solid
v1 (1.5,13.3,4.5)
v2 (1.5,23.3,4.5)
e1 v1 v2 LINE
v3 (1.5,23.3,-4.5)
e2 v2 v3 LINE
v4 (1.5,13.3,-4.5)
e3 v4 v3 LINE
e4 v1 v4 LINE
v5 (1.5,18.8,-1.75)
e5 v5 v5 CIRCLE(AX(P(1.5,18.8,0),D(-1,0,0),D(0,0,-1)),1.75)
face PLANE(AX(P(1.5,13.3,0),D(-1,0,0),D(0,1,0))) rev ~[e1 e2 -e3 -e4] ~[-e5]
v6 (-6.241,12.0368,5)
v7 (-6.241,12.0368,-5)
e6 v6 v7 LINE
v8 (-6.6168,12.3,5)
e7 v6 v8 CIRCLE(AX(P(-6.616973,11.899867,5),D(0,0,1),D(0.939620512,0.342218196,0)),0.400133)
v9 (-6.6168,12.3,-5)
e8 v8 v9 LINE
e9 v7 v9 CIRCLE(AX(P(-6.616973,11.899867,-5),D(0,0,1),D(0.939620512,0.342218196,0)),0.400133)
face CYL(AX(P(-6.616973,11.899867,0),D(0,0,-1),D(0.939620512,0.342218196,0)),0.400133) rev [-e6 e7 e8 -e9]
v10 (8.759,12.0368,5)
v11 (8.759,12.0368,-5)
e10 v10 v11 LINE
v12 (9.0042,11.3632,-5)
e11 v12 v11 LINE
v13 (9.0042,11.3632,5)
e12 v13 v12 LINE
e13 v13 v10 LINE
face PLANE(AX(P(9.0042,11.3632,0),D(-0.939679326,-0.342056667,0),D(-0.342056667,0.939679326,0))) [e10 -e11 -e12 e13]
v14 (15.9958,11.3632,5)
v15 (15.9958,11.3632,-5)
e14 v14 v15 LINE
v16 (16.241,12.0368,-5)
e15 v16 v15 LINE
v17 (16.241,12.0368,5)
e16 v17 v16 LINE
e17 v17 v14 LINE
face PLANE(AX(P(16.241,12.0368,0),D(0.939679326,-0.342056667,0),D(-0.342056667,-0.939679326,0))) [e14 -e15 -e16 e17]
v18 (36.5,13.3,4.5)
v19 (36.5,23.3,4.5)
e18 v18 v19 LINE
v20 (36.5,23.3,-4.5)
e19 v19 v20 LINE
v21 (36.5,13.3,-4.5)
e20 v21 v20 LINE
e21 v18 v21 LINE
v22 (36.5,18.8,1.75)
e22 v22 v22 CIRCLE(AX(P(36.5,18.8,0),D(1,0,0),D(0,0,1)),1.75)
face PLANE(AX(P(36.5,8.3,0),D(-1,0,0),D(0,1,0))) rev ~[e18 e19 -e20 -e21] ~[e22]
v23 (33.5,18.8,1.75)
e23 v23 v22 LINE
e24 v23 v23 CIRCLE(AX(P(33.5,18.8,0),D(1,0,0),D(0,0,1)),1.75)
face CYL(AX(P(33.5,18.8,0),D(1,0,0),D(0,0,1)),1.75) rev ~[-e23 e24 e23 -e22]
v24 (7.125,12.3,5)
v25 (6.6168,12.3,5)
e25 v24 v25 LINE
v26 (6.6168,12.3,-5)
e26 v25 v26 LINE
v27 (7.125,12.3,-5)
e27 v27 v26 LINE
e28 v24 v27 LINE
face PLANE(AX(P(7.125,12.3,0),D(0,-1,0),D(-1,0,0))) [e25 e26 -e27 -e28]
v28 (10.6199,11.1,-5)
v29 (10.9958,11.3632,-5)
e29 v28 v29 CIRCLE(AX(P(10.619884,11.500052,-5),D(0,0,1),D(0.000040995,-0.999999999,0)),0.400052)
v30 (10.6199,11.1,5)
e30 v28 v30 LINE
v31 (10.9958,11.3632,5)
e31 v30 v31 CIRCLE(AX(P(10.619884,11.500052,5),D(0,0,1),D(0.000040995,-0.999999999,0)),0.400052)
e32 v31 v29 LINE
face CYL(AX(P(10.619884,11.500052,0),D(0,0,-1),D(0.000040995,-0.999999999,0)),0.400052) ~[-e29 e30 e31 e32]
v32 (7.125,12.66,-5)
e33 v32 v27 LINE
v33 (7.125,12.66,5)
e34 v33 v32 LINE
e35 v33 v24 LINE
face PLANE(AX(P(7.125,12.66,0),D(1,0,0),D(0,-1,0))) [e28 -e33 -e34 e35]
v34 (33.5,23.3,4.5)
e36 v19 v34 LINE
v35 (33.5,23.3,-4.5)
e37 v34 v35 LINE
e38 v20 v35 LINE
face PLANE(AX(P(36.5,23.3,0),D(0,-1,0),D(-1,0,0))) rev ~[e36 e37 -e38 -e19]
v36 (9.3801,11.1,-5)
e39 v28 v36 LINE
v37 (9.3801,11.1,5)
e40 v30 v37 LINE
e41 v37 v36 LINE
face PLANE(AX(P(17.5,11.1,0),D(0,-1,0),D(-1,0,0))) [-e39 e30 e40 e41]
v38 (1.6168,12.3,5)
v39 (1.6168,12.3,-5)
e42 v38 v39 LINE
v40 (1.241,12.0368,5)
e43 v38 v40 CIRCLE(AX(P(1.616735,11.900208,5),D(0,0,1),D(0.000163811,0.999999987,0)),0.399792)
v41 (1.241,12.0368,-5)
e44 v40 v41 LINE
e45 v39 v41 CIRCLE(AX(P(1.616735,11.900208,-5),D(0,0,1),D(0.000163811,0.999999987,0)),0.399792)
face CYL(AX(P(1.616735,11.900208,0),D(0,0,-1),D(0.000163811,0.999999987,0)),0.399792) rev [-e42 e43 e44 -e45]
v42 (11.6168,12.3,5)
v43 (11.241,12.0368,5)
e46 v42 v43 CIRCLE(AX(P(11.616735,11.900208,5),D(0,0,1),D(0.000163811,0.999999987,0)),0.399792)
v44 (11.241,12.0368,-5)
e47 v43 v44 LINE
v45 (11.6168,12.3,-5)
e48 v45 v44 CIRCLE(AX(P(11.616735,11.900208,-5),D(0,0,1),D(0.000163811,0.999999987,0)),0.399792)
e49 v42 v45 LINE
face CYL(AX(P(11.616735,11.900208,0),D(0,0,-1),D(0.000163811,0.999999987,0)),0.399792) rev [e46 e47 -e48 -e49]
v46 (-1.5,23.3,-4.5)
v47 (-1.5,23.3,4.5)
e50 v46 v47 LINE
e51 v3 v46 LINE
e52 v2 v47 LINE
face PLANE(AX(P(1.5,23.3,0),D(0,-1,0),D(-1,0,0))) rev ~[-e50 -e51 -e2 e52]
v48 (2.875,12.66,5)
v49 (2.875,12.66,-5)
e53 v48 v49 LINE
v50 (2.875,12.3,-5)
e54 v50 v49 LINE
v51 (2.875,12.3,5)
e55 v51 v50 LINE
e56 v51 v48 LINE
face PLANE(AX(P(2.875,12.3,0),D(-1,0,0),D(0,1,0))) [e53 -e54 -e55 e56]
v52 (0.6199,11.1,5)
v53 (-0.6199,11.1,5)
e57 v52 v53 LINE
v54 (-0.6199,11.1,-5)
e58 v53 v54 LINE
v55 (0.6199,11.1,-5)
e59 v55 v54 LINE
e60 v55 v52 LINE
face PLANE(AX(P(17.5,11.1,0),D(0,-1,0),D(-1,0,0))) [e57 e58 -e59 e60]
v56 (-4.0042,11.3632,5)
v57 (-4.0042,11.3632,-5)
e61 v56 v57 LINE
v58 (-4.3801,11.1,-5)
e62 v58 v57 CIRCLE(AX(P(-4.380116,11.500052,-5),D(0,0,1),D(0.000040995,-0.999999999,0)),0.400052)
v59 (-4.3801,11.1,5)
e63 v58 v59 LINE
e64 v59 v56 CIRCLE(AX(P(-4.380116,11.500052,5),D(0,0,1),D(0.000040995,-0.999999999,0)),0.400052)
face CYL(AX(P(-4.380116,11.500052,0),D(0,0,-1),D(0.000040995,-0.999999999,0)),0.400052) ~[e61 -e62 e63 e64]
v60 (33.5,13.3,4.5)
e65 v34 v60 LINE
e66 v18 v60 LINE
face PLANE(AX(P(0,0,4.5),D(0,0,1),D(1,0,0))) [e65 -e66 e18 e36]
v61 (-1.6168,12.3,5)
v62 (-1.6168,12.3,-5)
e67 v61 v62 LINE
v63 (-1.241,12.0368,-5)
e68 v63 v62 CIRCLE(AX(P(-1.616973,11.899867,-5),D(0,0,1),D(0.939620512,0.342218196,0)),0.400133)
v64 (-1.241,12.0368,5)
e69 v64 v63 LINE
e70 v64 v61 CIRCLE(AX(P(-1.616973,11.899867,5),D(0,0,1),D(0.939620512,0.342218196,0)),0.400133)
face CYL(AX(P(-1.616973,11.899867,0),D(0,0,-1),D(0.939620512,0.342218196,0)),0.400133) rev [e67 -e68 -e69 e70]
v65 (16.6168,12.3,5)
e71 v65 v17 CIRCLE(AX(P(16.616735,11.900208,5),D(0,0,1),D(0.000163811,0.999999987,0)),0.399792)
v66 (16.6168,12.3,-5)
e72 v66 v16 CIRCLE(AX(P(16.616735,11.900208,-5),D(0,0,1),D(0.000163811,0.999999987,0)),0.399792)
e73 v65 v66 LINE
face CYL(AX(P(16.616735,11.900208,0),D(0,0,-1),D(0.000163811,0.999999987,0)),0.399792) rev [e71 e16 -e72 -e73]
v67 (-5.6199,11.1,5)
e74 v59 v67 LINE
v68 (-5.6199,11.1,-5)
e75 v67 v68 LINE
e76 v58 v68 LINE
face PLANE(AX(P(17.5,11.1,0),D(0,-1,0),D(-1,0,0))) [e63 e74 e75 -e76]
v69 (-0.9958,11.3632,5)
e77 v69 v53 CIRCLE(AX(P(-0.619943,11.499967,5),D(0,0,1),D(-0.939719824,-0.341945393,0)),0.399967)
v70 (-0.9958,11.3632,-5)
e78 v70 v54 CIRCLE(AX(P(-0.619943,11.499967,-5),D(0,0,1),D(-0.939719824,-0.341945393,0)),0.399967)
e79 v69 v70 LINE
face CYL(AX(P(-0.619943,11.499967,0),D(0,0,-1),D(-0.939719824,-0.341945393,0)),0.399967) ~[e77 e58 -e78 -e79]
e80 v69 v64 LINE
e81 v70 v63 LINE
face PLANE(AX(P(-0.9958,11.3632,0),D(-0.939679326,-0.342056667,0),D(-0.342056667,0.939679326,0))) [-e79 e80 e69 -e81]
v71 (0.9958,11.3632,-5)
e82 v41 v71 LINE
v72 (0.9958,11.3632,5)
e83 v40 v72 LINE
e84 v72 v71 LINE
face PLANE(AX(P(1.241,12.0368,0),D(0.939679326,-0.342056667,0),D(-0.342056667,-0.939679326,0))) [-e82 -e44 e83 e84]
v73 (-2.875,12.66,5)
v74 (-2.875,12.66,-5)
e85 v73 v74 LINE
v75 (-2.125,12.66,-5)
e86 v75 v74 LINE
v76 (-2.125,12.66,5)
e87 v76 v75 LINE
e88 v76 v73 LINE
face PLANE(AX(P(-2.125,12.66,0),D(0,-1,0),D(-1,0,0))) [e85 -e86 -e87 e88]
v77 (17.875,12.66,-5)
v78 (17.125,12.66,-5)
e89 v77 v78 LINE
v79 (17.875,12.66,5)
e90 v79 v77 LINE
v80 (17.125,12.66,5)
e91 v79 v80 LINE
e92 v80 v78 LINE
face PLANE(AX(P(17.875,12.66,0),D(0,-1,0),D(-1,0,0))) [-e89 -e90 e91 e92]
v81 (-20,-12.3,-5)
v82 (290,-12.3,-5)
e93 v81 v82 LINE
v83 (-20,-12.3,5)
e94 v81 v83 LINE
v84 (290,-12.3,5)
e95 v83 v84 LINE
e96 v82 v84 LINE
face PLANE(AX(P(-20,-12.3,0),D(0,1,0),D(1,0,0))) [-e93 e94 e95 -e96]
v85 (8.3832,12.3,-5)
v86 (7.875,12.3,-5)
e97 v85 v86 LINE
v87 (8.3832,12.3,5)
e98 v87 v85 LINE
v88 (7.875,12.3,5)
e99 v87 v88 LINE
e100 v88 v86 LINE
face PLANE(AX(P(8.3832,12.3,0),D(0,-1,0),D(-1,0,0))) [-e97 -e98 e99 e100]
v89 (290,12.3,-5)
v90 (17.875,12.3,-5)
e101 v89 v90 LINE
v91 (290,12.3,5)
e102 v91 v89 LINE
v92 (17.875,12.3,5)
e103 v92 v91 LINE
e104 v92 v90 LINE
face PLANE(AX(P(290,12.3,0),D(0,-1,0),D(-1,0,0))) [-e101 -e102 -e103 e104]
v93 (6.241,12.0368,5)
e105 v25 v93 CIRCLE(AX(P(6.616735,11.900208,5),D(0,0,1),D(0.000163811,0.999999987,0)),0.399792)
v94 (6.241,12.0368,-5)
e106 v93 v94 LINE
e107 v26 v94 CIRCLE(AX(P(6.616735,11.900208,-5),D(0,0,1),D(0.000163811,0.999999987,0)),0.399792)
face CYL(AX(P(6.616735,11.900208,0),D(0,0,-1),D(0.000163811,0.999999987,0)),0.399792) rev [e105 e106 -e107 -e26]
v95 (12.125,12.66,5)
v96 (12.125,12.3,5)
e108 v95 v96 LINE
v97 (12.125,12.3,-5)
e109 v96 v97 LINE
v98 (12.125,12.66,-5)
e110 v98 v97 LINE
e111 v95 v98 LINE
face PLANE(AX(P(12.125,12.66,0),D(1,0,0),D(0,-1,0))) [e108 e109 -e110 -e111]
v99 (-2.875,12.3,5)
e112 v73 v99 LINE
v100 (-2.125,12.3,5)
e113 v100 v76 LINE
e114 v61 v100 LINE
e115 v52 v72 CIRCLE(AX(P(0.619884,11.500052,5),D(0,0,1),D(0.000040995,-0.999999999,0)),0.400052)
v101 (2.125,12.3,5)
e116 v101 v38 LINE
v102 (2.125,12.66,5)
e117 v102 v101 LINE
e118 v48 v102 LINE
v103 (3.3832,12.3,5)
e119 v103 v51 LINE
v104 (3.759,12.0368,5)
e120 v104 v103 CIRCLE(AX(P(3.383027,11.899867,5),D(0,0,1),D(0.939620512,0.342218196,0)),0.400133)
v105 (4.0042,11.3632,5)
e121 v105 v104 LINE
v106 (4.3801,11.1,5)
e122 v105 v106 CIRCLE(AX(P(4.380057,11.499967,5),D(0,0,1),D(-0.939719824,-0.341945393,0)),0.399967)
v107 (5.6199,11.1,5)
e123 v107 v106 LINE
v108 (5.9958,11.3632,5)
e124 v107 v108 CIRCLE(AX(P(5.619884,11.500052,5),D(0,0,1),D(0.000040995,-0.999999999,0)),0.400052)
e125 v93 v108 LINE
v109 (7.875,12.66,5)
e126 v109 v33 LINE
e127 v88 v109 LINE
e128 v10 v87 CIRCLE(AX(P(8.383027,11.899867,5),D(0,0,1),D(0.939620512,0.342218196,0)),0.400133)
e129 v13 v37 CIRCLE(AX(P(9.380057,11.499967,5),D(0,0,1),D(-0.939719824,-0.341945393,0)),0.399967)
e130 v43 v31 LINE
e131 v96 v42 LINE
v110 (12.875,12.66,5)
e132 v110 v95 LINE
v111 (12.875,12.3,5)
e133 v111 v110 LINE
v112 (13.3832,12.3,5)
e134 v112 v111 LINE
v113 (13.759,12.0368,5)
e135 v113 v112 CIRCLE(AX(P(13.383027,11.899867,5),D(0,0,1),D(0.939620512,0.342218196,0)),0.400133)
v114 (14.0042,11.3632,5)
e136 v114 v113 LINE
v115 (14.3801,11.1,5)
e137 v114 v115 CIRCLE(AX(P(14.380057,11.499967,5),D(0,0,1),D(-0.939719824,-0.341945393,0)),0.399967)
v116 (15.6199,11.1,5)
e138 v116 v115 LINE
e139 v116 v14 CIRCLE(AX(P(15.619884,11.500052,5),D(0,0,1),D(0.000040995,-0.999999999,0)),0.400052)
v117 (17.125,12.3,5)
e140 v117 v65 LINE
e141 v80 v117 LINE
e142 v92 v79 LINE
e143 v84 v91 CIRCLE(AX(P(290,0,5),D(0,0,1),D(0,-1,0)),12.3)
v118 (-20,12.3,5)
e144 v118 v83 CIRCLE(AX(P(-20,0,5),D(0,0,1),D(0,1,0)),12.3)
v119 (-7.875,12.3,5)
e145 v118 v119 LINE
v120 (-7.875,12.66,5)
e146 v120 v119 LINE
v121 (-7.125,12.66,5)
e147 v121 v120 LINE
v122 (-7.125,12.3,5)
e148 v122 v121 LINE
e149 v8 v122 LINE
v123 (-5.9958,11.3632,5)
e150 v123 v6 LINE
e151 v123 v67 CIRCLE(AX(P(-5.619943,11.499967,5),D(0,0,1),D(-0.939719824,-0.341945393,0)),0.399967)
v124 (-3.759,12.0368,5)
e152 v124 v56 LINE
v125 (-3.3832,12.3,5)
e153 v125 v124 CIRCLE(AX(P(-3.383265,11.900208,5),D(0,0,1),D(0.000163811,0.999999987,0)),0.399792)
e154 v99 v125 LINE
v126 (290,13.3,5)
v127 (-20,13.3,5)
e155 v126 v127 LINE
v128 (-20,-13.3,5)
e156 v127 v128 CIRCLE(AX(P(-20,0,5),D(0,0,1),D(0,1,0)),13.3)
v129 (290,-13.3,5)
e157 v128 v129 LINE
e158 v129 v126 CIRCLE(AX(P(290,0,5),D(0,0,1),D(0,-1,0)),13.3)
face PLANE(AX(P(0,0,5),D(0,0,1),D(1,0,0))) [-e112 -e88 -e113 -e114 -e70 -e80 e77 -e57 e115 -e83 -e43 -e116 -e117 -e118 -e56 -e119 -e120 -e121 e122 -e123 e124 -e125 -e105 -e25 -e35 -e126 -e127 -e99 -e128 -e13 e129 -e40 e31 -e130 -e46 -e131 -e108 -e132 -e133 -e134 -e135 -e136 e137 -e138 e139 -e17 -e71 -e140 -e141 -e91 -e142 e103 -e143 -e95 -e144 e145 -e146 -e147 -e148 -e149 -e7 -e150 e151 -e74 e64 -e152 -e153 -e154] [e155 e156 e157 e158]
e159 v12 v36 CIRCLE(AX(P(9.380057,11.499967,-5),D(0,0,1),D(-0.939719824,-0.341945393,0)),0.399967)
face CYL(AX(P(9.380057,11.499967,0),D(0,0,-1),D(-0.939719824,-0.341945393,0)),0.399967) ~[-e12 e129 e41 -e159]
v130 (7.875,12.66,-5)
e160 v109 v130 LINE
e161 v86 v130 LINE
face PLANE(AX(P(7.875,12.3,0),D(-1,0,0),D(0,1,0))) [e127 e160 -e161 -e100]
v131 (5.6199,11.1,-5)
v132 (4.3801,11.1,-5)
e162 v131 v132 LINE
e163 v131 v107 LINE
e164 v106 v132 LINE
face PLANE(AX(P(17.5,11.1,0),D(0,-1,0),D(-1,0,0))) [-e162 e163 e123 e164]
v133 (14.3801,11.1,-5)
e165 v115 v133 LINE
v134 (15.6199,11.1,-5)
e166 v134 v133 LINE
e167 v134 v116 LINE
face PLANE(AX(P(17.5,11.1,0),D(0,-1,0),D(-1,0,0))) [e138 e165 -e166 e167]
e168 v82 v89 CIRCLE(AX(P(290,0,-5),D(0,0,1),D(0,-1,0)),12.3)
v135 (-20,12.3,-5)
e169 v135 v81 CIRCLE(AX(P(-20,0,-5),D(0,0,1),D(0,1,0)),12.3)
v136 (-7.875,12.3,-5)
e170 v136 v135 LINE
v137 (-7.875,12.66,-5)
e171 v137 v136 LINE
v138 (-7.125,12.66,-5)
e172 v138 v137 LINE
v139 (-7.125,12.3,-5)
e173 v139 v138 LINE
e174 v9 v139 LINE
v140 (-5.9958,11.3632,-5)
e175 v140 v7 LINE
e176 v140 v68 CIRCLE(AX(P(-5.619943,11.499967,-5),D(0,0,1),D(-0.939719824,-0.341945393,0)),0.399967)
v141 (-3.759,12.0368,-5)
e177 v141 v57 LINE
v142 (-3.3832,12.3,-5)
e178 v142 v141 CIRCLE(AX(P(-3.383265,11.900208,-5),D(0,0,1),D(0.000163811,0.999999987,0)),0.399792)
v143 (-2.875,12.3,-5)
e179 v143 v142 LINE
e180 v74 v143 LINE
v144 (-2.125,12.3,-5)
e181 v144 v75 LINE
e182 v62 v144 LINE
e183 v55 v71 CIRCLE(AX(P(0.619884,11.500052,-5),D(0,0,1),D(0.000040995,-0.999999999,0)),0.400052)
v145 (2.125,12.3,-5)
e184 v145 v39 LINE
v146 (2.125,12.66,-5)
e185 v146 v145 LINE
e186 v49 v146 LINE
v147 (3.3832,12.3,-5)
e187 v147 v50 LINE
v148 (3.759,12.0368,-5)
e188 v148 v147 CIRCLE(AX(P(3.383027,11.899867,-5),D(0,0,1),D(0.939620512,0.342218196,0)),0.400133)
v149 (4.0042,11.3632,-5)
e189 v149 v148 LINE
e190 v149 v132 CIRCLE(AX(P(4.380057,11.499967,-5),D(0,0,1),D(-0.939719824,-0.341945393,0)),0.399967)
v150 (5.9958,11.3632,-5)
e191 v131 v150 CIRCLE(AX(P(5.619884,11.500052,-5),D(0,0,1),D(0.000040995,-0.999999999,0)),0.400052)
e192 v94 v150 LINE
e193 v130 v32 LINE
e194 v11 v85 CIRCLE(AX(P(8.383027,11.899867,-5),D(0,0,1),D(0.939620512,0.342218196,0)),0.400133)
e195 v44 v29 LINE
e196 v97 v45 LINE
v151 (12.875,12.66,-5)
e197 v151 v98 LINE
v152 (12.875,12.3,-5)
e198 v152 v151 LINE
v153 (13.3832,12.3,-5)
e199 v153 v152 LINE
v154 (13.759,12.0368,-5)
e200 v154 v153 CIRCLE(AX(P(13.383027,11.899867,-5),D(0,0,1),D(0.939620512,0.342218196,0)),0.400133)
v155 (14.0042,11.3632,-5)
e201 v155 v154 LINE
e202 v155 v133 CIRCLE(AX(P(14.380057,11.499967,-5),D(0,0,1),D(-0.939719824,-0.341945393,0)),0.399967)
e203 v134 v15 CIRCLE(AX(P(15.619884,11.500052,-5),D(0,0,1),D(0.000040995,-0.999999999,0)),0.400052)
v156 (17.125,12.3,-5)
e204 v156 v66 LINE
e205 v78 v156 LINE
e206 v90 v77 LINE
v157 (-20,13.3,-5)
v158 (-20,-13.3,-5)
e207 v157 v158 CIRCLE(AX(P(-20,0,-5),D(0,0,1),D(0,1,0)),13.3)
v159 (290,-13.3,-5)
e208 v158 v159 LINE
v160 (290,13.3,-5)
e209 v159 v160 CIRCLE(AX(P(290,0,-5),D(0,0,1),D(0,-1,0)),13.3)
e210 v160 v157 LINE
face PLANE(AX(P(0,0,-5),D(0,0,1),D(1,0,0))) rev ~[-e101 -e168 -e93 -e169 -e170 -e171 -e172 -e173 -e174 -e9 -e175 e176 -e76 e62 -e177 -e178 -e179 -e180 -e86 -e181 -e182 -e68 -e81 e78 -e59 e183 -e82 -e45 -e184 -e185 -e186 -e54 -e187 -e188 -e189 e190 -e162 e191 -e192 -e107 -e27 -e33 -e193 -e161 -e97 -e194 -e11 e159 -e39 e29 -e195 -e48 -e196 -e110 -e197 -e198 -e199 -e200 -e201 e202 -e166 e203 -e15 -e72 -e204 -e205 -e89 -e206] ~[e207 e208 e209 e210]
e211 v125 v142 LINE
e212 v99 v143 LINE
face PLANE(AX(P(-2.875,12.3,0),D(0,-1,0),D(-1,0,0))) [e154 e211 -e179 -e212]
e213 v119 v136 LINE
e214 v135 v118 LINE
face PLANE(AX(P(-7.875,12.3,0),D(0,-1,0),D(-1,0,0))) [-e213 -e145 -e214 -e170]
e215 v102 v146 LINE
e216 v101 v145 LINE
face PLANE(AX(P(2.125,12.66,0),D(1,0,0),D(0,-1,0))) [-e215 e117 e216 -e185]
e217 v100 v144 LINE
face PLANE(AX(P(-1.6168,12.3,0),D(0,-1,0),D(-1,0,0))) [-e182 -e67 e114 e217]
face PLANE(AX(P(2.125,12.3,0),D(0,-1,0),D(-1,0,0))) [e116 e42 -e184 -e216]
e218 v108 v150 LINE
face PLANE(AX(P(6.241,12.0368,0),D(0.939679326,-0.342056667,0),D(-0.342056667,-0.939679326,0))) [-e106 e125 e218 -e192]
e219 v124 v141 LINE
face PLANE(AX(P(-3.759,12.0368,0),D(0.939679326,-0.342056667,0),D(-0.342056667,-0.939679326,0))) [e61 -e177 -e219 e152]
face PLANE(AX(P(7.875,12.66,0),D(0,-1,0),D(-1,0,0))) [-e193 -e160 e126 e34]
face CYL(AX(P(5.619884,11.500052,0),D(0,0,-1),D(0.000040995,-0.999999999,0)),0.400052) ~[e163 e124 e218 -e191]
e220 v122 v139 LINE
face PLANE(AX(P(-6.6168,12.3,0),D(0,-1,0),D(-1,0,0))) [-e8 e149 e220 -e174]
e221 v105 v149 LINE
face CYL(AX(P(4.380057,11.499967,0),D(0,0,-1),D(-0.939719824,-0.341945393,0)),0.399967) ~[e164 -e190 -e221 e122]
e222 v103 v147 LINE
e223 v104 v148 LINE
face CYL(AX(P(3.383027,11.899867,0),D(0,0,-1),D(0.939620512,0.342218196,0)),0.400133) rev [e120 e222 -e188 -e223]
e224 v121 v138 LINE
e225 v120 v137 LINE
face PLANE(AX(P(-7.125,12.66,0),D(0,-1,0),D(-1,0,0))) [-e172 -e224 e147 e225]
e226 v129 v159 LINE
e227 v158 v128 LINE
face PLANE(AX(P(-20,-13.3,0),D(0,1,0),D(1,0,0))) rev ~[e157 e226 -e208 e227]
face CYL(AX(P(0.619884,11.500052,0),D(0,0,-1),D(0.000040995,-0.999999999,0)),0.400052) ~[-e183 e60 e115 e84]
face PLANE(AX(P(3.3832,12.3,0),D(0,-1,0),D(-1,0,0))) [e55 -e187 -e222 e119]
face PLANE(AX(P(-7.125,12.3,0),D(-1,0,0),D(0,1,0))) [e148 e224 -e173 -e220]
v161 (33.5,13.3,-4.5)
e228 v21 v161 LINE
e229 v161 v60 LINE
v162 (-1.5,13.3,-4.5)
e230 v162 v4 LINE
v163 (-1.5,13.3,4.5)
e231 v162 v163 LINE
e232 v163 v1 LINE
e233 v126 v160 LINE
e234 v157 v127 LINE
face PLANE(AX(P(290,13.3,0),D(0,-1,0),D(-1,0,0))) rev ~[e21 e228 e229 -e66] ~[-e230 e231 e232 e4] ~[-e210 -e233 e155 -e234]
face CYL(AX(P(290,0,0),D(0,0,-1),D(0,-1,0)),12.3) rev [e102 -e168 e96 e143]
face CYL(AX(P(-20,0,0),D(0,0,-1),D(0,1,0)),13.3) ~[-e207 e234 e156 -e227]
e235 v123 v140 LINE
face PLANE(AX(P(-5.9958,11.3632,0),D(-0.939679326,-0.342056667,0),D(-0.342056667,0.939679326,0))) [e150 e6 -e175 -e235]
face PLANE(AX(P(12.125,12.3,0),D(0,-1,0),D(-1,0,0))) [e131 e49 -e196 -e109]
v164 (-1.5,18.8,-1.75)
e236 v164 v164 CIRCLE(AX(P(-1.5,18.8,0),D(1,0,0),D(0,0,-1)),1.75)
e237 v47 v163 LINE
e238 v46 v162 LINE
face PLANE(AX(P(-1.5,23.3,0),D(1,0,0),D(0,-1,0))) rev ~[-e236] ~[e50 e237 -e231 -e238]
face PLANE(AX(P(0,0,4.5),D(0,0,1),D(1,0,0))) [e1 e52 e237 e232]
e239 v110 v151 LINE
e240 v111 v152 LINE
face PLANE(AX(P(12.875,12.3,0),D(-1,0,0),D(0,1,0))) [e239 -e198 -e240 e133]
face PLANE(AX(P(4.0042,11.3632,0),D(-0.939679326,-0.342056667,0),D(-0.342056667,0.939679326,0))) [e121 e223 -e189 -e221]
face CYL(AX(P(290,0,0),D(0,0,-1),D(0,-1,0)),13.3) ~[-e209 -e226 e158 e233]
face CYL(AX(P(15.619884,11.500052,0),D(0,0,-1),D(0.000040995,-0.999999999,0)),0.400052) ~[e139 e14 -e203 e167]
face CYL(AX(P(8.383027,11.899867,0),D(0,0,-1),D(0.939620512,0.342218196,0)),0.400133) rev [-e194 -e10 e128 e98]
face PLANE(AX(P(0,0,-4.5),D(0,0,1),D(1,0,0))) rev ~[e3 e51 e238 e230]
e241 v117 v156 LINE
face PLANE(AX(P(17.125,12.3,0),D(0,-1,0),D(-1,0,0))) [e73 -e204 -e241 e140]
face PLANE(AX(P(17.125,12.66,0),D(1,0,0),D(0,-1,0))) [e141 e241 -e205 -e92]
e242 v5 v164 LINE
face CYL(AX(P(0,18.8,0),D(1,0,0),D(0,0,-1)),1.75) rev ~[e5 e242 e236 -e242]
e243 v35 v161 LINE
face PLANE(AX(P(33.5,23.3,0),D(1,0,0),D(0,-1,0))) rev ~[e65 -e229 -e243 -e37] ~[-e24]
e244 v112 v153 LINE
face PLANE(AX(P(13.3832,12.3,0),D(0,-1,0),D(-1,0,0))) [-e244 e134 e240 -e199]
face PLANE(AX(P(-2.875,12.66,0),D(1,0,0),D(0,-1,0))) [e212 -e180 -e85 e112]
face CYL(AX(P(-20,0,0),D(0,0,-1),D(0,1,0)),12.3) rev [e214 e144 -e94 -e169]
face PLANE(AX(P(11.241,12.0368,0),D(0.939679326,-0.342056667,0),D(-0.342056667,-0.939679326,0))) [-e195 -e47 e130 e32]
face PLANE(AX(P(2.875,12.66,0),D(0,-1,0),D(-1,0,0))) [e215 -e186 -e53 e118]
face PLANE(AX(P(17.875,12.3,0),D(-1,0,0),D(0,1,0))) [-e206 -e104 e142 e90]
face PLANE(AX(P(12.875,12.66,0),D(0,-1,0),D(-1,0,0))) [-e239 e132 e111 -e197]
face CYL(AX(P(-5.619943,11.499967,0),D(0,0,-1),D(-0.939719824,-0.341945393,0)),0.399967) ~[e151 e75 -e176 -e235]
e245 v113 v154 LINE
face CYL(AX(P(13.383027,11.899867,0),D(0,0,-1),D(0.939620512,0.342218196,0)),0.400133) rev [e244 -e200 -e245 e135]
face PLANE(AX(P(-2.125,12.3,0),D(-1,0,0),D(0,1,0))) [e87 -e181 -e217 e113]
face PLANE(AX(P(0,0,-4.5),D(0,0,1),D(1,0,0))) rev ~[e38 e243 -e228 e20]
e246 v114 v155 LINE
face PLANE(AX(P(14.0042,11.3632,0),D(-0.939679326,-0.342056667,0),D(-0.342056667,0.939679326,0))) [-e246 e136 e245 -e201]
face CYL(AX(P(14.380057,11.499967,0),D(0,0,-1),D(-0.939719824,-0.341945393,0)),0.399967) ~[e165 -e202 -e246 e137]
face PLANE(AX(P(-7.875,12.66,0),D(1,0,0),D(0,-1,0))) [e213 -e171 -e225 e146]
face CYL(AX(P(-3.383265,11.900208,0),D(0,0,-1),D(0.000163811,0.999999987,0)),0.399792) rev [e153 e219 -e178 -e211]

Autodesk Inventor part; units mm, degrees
ref_plane "YZ Plane" through (0, 0, 0) normal (1, 0, 0) x (0, 1, 0)
ref_plane "XZ Plane" through (0, 0, 0) normal (0, 1, 0) x (-1, 0, 0)
ref_plane "XY Plane" through (0, 0, 0) normal (0, 0, 1) x (1, 0, 0)
sketch "Sketch_2" plane through (0, 0, 0) normal (0, 0, 1) x (1, 0, 0)
  arc A0 (-20, 13.3) -> (-20, -13.3) centre (-20, 0) ccw
  line L0 (-20, -13.3) -> (290, -13.3)
  arc A1 (290, -13.3) -> (290, 13.3) centre (290, 0) ccw
  line L1 (290, 13.3) -> (-20, 13.3)
extrude "Extrusion1" add sketch "Sketch_2" along normal mid plane 10
sketch "Sketch_8" plane through (0, 0, 0) normal (0, 0, 1) x (1, 0, 0)
  line L0 (-1.5, 23.3) -> (-1.5, 13.3)
  line L1 (-1.5, 13.3) -> (1.5, 13.3)
  line L2 (1.5, 13.3) -> (1.5, 23.3)
  line L3 (1.5, 23.3) -> (-1.5, 23.3)
extrude "Extrusion2" add sketch "Sketch_8" along normal mid plane 9
sketch "_____3" plane through (0, 0, 0) normal (1, 0, 0) x (0, 0, -1)
  circle A0 centre (0, 18.8) radius 1.75
extrude "Extrusion3" cut sketch "_____3" along normal mid plane 6
sketch "_____2" plane through (0, 0, 0) normal (0, 0, 1) x (1, 0, 0)
  line L0 (33.5, 8.3) -> (36.5, 8.3)
  line L1 (36.5, 8.3) -> (36.5, 23.3)
  line L2 (36.5, 23.3) -> (33.5, 23.3)
  line L3 (33.5, 23.3) -> (33.5, 8.3)
extrude "Extrusion4" add sketch "_____2" along normal mid plane 9
sketch "Sketch5" plane through (33.5, 13.3, 4.5) normal (-1, 0, 0) x (0, 0, 1)
  point P0 (-4.5, 5.5)
hole "Hole1" at (33.5, 18.8, 0) direction (1, 0, 0) diameter 3.5 depth 3
sketch "Sketch_4" plane through (0, 0, 0) normal (0, 0, 1) x (1, 0, 0)
  arc A0 (-20, 12.3) -> (-20, -12.3) centre (-20, 0) ccw
  line L0 (-20, -12.3) -> (290, -12.3)
  arc A1 (290, -12.3) -> (290, 12.3) centre (290, 0) ccw
  line L1 (290, 12.3) -> (17.5, 12.3)
  line L2 (17.5, 12.3) -> (17.5, 11.1)
  line L3 (17.5, 11.1) -> (-7.5, 11.1)
  line L4 (-7.5, 11.1) -> (-7.5, 12.3)
  line L5 (-7.5, 12.3) -> (-20, 12.3)
extrude "Extrusion5" cut sketch "Sketch_4" along normal mid plane 10
sketch "Sketch_64" plane through (0, 0, 0) normal (0, 0, 1) x (1, 0, 0)
  line L0 (-9.3801, 11.1) -> (-9.3801, 10.1)
  line L1 (-9.3801, 10.1) -> (-5.6199, 10.1)
  line L2 (-5.6199, 10.1) -> (-5.6199, 11.1)
  arc A0 (-5.9958, 11.3632) -> (-5.6199, 11.1) centre (-5.6199, 11.5) ccw
  line L3 (-5.9958, 11.3632) -> (-6.241, 12.0368)
  arc A1 (-6.241, 12.0368) -> (-6.6168, 12.3) centre (-6.6168, 11.9) ccw
  line L4 (-6.6168, 12.3) -> (-7.125, 12.3)
  line L5 (-7.125, 12.3) -> (-7.125, 12.66)
  line L6 (-7.125, 12.66) -> (-7.875, 12.66)
  line L7 (-7.875, 12.66) -> (-7.875, 12.3)
  line L8 (-7.875, 12.3) -> (-8.3832, 12.3)
  arc A2 (-8.3832, 12.3) -> (-8.759, 12.0368) centre (-8.3832, 11.9) ccw
  line L9 (-8.759, 12.0368) -> (-9.0042, 11.3632)
  arc A3 (-9.3801, 11.1) -> (-9.0042, 11.3632) centre (-9.3801, 11.5) ccw
extrude "Extrusion6" cut sketch "Sketch_64" along normal mid plane 10
pattern_linear "Rectangular Pattern1" count 6 spacing 5 along (1, 0, 0) of "Extrusion6"
properties part number "ATBT-700T5100-B-P35_info-1-16-16"
